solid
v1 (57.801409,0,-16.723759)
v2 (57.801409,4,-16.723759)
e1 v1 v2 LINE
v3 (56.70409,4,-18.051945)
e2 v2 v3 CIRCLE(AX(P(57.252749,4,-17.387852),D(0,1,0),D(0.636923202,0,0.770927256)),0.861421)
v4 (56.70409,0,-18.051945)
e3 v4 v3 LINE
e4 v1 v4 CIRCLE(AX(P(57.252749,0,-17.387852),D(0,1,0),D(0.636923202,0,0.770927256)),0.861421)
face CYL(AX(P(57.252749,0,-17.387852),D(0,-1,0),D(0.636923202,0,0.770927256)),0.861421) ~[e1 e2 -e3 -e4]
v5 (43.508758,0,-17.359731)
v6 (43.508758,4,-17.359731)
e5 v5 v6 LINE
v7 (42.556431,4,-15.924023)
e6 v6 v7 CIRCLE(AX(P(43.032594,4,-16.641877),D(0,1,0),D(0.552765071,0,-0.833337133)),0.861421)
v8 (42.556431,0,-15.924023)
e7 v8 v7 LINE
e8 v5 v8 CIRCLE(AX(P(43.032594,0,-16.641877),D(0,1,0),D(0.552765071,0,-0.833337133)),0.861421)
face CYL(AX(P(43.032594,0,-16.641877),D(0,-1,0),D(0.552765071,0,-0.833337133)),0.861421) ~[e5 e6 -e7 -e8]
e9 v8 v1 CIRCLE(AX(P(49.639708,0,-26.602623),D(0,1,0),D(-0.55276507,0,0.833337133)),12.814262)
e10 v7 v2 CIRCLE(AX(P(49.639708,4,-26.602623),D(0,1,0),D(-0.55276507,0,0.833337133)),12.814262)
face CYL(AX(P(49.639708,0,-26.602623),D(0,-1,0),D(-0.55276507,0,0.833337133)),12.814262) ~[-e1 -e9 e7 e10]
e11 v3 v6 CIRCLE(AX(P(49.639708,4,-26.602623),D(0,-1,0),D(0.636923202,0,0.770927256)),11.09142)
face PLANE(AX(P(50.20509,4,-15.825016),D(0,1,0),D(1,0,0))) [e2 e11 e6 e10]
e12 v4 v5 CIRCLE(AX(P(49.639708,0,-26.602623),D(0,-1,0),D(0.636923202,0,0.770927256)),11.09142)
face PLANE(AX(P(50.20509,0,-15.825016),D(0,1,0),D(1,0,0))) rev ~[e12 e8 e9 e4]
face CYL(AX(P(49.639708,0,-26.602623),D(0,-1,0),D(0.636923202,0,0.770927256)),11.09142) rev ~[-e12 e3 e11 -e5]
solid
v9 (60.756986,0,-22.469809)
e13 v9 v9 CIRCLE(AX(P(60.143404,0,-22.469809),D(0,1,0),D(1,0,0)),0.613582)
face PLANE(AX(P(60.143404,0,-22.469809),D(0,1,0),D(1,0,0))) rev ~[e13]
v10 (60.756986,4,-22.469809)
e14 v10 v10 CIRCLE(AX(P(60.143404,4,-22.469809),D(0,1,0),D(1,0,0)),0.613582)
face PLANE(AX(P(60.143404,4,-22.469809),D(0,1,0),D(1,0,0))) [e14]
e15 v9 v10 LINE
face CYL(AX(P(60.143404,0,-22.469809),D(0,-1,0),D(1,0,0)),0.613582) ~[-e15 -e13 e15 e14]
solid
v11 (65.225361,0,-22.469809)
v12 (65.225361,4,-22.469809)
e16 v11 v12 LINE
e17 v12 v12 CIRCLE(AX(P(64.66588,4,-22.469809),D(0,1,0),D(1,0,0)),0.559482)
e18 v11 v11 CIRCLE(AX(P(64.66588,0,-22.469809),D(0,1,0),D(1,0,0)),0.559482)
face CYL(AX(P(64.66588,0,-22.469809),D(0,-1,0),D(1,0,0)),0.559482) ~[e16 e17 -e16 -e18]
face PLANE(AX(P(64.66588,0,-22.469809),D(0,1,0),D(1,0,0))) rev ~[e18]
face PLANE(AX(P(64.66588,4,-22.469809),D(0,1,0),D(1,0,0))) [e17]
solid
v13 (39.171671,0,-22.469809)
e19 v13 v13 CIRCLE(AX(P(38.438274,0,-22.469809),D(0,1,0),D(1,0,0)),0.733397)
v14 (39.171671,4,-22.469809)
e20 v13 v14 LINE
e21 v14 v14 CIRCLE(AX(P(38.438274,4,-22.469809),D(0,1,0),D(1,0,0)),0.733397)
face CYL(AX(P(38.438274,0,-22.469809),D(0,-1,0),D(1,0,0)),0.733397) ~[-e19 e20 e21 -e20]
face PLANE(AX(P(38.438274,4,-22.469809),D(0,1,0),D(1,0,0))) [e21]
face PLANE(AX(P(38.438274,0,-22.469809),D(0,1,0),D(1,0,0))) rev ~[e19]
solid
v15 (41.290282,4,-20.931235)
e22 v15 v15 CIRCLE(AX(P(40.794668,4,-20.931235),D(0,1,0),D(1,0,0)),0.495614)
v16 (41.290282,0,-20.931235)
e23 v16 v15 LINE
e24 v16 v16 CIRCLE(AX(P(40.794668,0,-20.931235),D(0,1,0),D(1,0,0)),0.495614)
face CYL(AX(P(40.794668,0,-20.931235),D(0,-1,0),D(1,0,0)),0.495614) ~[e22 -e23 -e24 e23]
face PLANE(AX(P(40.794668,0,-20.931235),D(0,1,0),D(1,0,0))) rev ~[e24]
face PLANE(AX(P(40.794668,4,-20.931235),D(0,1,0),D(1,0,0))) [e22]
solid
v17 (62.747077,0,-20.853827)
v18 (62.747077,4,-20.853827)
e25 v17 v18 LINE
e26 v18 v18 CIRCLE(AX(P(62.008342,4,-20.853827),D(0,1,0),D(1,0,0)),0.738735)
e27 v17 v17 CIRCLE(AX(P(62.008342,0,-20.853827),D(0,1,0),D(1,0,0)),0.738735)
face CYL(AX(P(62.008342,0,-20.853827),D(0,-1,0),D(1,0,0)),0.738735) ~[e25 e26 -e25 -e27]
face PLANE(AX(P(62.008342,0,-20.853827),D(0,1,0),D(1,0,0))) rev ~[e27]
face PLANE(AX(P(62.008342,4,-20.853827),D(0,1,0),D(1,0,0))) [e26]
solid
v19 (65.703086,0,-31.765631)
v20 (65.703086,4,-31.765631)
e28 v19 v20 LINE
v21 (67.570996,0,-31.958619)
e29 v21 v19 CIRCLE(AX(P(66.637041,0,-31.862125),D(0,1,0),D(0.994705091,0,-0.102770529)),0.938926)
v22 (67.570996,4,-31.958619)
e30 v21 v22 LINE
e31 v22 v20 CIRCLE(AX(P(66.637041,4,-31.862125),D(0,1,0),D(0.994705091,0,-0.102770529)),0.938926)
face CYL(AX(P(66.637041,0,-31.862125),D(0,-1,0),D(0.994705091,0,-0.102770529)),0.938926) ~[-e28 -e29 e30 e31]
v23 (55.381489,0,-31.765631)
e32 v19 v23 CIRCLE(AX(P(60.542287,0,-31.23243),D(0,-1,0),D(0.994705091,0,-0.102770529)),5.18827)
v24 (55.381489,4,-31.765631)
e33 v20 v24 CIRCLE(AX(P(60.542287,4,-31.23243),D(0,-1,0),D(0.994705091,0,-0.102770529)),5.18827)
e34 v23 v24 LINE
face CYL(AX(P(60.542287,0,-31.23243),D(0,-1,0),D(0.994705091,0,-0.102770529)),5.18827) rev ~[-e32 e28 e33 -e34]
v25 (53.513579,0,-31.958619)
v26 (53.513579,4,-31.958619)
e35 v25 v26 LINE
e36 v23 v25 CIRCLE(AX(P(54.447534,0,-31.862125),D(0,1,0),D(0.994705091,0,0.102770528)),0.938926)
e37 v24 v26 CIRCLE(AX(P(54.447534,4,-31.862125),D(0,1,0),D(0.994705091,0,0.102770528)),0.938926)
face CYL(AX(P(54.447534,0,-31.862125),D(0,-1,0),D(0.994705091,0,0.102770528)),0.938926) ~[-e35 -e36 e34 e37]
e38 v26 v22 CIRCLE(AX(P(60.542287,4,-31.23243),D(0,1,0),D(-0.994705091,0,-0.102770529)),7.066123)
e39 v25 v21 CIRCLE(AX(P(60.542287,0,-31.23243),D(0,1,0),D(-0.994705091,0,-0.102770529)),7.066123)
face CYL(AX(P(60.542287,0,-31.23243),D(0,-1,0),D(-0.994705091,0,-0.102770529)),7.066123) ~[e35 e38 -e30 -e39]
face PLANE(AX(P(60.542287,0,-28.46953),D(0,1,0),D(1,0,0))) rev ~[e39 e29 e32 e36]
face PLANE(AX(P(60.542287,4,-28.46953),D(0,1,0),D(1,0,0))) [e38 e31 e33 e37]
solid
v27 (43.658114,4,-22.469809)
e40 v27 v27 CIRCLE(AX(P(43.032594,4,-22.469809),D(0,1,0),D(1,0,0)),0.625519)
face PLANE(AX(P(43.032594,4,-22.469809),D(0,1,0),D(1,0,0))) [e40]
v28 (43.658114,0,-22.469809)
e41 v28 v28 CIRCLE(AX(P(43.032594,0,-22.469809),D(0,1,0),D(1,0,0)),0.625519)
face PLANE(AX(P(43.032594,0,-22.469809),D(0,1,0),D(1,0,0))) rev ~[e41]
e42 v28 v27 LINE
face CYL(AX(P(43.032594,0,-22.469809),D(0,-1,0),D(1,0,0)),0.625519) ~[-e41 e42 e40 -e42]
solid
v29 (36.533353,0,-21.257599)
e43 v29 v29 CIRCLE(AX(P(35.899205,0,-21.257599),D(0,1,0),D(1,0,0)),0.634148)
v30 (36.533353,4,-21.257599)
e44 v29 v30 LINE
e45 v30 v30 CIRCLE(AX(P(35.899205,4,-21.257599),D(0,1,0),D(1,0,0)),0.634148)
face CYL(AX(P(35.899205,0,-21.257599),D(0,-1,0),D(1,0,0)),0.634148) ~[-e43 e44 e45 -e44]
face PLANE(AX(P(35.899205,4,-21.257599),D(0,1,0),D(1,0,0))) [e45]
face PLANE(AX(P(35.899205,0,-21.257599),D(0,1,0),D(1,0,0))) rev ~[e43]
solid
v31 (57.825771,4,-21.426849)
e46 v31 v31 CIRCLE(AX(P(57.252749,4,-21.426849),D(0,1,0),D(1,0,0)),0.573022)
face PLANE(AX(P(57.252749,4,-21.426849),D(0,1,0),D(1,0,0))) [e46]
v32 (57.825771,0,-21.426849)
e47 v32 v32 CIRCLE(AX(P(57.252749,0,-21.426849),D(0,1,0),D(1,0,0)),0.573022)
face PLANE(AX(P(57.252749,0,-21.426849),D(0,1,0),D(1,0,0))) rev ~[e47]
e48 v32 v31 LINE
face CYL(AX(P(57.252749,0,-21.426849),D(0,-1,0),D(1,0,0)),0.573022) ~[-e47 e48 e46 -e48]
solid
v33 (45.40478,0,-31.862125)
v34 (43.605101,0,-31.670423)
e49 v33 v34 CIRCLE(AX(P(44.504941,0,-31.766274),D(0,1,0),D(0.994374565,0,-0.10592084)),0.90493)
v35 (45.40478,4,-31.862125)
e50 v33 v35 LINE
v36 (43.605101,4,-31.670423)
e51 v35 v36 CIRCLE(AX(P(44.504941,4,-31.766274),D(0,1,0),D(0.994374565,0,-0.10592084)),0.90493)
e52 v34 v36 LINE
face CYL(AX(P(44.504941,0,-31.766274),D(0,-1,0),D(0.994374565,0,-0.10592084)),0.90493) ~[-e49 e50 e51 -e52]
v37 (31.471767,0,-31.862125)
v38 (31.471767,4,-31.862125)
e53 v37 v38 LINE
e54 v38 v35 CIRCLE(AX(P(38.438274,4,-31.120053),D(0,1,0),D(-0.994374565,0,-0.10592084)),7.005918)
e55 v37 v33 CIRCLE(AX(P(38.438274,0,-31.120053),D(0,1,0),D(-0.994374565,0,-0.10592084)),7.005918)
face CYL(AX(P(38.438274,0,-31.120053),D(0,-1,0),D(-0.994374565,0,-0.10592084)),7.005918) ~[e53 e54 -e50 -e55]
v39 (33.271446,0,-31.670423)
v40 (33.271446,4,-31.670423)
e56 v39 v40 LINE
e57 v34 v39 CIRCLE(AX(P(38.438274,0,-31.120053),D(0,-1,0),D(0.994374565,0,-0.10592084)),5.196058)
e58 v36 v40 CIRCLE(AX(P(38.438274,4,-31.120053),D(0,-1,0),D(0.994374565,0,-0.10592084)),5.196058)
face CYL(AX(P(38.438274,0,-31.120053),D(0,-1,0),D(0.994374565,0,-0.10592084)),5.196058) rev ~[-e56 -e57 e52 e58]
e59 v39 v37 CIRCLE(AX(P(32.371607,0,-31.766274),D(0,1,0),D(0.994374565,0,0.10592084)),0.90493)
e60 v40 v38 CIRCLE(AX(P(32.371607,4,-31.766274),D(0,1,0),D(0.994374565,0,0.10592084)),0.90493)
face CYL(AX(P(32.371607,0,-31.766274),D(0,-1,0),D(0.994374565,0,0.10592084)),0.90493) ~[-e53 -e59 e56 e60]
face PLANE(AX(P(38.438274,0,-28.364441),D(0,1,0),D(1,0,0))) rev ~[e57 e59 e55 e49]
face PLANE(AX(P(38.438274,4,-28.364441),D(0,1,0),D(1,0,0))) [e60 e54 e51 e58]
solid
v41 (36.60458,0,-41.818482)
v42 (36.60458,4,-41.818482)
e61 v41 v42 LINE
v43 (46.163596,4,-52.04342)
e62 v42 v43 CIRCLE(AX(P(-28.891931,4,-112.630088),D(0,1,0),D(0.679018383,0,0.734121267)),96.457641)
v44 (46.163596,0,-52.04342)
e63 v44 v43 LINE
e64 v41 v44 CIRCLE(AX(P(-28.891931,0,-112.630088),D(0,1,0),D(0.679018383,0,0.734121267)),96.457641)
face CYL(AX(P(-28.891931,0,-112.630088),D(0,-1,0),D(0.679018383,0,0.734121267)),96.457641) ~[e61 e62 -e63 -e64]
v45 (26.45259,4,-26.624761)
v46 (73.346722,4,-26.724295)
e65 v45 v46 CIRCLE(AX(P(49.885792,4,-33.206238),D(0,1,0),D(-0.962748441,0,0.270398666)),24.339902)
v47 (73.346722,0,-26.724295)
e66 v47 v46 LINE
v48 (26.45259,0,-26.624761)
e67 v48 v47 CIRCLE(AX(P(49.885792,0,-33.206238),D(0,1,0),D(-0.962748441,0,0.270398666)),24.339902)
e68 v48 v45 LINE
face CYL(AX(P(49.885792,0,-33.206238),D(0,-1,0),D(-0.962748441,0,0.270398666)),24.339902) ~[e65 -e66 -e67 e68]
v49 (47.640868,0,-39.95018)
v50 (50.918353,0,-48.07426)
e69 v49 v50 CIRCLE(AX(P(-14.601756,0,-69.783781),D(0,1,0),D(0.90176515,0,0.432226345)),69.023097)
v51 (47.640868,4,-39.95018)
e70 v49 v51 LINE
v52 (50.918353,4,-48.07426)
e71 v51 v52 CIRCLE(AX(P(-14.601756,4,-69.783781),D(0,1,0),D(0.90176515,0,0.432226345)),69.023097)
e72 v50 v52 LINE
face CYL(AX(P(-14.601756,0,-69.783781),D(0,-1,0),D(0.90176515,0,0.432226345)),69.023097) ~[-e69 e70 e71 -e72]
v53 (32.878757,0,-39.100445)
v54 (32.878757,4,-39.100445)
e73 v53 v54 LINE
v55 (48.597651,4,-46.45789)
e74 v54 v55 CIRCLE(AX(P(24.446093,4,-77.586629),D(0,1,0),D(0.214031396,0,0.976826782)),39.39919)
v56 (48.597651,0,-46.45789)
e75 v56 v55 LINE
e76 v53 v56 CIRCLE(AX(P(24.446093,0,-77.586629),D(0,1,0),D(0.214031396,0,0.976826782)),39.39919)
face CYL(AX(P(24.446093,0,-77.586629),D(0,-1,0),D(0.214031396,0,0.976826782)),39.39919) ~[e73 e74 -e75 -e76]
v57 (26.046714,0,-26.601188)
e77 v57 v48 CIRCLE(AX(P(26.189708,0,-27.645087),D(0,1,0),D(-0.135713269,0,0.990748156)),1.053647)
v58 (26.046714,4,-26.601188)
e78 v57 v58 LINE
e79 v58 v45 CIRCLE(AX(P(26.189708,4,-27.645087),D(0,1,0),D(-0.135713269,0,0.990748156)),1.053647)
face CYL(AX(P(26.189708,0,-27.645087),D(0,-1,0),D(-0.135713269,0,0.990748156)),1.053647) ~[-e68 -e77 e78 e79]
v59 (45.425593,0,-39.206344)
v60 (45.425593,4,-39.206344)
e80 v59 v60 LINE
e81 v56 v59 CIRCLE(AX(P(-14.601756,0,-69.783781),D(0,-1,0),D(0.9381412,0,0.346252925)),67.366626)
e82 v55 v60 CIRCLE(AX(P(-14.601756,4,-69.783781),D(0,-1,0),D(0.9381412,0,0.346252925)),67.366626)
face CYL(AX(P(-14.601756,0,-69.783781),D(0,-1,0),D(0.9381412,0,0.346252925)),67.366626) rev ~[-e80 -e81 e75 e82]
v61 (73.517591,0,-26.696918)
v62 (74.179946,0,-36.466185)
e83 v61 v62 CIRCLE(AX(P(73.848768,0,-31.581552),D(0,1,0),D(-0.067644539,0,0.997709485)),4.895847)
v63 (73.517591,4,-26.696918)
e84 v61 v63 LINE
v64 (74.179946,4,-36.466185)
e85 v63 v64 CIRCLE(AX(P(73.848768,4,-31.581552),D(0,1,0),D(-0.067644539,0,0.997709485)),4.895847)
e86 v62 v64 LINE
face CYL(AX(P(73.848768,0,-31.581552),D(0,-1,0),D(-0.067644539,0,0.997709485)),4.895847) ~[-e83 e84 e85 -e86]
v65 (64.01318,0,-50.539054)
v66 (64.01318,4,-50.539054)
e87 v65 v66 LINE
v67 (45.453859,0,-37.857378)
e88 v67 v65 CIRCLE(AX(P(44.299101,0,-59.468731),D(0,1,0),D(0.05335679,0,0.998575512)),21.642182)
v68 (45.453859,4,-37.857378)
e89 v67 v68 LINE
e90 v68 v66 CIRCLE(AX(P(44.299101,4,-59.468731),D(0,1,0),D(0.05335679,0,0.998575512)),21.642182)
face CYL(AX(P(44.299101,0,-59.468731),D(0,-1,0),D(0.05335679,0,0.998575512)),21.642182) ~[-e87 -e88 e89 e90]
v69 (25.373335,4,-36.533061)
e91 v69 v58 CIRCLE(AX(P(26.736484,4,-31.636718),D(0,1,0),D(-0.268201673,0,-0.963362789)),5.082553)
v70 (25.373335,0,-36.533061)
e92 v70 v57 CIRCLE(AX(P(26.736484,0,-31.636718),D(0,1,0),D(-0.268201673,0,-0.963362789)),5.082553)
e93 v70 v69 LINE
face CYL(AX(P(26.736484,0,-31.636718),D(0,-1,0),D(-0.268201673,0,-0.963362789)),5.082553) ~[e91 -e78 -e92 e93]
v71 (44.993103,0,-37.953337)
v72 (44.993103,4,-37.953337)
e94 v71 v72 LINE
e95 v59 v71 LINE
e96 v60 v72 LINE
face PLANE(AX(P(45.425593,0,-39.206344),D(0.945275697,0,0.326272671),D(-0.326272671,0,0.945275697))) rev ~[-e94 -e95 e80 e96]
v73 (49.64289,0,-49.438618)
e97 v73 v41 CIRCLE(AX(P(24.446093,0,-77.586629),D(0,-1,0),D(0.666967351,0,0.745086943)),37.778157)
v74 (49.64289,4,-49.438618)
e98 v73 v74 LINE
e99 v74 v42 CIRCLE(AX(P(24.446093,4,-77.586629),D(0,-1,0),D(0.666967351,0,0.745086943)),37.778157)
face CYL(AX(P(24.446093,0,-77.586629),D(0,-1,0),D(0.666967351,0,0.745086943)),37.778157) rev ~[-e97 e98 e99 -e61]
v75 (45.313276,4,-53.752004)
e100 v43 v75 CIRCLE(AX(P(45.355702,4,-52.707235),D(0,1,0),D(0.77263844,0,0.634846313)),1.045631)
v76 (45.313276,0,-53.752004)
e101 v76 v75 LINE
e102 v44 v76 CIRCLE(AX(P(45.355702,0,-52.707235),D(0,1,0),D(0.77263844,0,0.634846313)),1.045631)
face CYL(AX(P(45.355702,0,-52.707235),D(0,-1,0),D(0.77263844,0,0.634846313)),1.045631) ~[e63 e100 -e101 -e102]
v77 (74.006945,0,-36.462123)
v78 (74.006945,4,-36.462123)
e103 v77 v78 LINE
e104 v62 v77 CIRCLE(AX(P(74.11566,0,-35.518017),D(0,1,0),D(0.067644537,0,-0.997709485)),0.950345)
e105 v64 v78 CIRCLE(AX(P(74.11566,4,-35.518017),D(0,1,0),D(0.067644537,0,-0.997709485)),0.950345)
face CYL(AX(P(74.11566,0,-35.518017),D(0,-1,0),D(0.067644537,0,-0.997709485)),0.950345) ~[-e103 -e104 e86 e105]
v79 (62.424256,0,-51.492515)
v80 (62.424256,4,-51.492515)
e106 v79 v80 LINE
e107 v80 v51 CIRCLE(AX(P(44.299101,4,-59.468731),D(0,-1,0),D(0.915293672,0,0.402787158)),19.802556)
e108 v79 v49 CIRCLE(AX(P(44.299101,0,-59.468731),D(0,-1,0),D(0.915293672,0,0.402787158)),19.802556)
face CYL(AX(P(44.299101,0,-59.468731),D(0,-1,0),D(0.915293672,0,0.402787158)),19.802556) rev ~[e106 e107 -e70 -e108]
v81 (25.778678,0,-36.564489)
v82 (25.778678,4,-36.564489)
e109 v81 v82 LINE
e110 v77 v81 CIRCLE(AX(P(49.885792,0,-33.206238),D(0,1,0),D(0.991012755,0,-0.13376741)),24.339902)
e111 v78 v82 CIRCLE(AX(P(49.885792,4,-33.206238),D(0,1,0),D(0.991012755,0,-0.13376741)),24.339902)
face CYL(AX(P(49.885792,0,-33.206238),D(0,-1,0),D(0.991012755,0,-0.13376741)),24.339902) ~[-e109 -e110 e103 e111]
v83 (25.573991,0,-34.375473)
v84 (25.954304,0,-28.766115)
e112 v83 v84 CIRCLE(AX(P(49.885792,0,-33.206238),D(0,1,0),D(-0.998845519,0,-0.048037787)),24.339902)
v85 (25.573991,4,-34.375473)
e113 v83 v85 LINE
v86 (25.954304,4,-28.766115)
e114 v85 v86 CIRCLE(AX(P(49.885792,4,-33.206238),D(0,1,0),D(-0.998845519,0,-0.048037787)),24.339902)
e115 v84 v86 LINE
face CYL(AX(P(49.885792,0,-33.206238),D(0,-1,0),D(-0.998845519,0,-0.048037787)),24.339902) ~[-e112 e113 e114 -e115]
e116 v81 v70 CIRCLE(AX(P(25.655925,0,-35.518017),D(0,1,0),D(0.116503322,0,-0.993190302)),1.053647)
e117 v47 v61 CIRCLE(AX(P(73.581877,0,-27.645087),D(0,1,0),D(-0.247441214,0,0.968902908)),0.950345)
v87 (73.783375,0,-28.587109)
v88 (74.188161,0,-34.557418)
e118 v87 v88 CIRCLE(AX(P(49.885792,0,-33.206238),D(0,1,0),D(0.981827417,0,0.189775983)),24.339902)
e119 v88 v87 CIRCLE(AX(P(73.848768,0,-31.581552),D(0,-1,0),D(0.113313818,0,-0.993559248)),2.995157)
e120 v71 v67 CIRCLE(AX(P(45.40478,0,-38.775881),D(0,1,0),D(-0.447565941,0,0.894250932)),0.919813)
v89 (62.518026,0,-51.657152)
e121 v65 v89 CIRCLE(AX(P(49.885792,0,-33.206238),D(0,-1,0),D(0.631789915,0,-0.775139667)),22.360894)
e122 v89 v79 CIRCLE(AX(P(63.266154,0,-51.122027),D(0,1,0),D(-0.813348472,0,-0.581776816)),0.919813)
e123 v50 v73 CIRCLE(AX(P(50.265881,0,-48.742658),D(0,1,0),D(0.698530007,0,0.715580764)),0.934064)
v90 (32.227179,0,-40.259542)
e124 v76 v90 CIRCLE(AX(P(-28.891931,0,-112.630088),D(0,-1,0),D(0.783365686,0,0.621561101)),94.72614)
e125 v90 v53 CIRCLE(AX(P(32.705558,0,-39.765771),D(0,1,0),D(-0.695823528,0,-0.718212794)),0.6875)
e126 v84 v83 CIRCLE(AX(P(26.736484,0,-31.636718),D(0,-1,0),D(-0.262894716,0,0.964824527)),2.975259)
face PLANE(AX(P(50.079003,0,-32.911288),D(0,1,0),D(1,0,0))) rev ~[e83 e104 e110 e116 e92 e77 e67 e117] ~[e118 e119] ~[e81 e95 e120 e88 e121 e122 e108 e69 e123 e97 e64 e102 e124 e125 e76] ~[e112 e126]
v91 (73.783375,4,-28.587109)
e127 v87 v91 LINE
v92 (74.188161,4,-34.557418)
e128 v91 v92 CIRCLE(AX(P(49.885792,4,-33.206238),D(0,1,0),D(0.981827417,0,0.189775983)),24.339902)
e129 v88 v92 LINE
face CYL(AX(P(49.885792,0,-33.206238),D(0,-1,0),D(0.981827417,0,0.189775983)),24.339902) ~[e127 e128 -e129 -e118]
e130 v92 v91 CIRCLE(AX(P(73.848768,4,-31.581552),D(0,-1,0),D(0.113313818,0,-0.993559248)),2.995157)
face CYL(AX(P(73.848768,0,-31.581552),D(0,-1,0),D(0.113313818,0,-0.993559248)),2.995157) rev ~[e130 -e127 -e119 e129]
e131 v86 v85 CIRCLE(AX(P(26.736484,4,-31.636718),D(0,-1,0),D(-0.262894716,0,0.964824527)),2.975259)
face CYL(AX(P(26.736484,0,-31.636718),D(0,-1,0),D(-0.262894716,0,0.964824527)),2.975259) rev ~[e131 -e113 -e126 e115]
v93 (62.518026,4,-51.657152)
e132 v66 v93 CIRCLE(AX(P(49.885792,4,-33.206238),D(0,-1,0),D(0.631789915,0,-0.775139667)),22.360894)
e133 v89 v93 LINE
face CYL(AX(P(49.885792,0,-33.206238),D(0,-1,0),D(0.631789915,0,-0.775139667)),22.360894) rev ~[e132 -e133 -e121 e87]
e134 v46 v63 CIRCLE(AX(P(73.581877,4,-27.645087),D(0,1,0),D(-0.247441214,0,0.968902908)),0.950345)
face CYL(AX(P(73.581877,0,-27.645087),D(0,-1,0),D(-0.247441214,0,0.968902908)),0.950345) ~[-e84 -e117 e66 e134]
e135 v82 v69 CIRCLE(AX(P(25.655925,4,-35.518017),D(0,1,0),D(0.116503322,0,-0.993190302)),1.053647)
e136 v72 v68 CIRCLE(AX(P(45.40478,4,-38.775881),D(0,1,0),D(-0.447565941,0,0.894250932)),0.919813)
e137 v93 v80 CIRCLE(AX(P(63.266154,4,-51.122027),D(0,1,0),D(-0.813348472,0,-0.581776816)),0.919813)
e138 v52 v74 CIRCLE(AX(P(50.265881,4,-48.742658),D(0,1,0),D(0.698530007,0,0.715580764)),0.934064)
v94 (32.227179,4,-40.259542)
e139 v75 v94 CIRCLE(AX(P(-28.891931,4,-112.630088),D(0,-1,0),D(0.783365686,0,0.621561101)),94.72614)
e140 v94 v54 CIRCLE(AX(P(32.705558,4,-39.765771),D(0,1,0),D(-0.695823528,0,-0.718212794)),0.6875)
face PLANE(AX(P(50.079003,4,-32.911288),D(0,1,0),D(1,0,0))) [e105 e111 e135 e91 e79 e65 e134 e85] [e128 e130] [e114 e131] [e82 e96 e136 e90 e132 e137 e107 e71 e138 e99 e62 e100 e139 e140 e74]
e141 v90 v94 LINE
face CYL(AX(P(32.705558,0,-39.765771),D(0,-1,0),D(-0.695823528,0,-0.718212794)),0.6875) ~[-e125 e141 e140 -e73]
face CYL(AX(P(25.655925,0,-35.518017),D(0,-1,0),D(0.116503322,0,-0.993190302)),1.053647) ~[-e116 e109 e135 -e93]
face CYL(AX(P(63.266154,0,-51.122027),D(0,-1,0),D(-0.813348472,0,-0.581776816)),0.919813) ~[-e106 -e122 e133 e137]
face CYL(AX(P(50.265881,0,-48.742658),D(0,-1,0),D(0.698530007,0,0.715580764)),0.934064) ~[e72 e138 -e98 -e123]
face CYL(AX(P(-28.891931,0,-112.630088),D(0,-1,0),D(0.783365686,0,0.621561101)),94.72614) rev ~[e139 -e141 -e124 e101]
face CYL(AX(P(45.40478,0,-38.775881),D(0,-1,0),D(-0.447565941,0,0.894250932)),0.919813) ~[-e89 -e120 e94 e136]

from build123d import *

# Parameters (mm, degrees)
SALIENTE_EXTRUIR1_DEPTH    = 4
SALIENTE_EXTRUIR1_2_DEPTH  = 4
SALIENTE_EXTRUIR1_3_DEPTH  = 4
CROQUIS1_R                 = 0.634147611
SALIENTE_EXTRUIR1_4_DEPTH  = 4
CROQUIS1_R_2               = 0.733396993
SALIENTE_EXTRUIR1_5_DEPTH  = 4
CROQUIS1_R_3               = 0.495614174
SALIENTE_EXTRUIR1_6_DEPTH  = 4
CROQUIS1_R_4               = 0.62551935
SALIENTE_EXTRUIR1_7_DEPTH  = 4
CROQUIS1_R_5               = 0.573021967
SALIENTE_EXTRUIR1_8_DEPTH  = 4
CROQUIS1_R_6               = 0.613581805
SALIENTE_EXTRUIR1_9_DEPTH  = 4
CROQUIS1_R_7               = 0.738734644
SALIENTE_EXTRUIR1_10_DEPTH = 4
CROQUIS1_R_8               = 0.559481515
SALIENTE_EXTRUIR1_11_DEPTH = 4
SALIENTE_EXTRUIR1_12_DEPTH = 4


with BuildPart() as part:
    # Croquis1 → Saliente-Extruir1 (new body)
    with BuildSketch(Plane(origin=(0, 0, 0), x_dir=(1, 0, 0), z_dir=(0, 1, 0))):
        with BuildLine():
            ThreePointArc((74.1799457, 36.466185156), (74.093352849, 36.468100095), (74.006945291, 36.462123248))
            ThreePointArc((74.006945291, 36.462123248), (49.937454193, 57.546084492), (25.778677934, 36.564488912))
            ThreePointArc((25.778677934, 36.564488912), (25.574476045, 36.568511171), (25.373334573, 36.533061235))
            ThreePointArc((25.373334573, 36.533061235), (21.665572097, 31.292911344), (26.04671396, 26.601187839))
            ThreePointArc((26.04671396, 26.601187839), (26.250799676, 26.59321224), (26.452589876, 26.624760696))
            ThreePointArc((26.452589876, 26.624760696), (49.937454193, 8.86639079), (73.346722109, 26.724294626))
            ThreePointArc((73.346722109, 26.724294626), (73.431532152, 26.706709253), (73.517591019, 26.696918434))
            ThreePointArc((73.517591019, 26.696918434), (78.733401721, 31.250374455), (74.1799457, 36.466185156))
        make_face()
        with BuildLine():
            ThreePointArc((25.95430405, 28.766115478), (23.768039797, 31.435458309), (25.573990554, 34.375472662))
            ThreePointArc((25.573990554, 34.375472662), (25.601641514, 31.559776204), (25.95430405, 28.766115478))
        make_face(mode=Mode.SUBTRACT)
        with BuildLine():
            ThreePointArc((74.18816102, 34.557417605), (76.83706478, 31.378945788), (73.783375068, 28.587108873))
            ThreePointArc((73.783375068, 28.587108873), (74.169943046, 31.559776204), (74.18816102, 34.557417605))
        make_face(mode=Mode.SUBTRACT)
        with BuildLine():
            ThreePointArc((48.597651163, 46.457889546), (47.118213116, 42.785490463), (45.425593016, 39.206344036))
            Line((45.425593016, 39.206344036), (44.993103459, 37.95333726))
            ThreePointArc((44.993103459, 37.95333726), (45.217239696, 37.87538969), (45.453858509, 37.857378194))
            ThreePointArc((45.453858509, 37.857378194), (56.509068448, 41.599742996), (64.013179702, 50.539053674))
            ThreePointArc((64.013179702, 50.539053674), (36.494307306, 15.298761068), (62.518026203, 51.657152337))
            ThreePointArc((62.518026203, 51.657152337), (62.466890552, 51.577254722), (62.42425572, 51.492515388))
            ThreePointArc((62.42425572, 51.492515388), (56.485714844, 43.860153446), (47.640867648, 39.950179711))
            ThreePointArc((47.640867648, 39.950179711), (49.408626903, 43.96017081), (50.918352783, 48.074259915))
            ThreePointArc((50.918352783, 48.074259915), (50.948218866, 49.380538478), (49.642890368, 49.43861756))
            ThreePointArc((49.642890368, 49.43861756), (43.508384082, 44.970402926), (36.604580424, 41.818482171))
            ThreePointArc((36.604580424, 41.818482171), (41.569805001, 46.757329696), (46.163596362, 52.043420018))
            ThreePointArc((46.163596362, 52.043420018), (46.291811269, 53.173113113), (45.313276313, 53.7520042))
            ThreePointArc((45.313276313, 53.7520042), (39.105711287, 46.680393607), (32.227179127, 40.259542009))
            ThreePointArc((32.227179127, 40.259542009), (32.106258057, 39.428878951), (32.878756679, 39.10044494))
            ThreePointArc((32.878756679, 39.10044494), (41.148364583, 41.902874928), (48.597651163, 46.457889546))
        make_face(mode=Mode.SUBTRACT)
    extrude(amount=SALIENTE_EXTRUIR1_DEPTH)


with BuildPart() as body_2:
    # Croquis1 → Saliente-Extruir1 2 (new body)
    with BuildSketch(Plane(origin=(0, 0, 0), x_dir=(1, 0, 0), z_dir=(0, 1, 0))):
        with BuildLine():
            ThreePointArc((33.271446194, 31.670423286), (32.467457599, 32.666113812), (31.471767073, 31.862125217))
            ThreePointArc((31.471767073, 31.862125217), (38.438273667, 24.114134575), (45.404780261, 31.862125217))
            ThreePointArc((45.404780261, 31.862125217), (44.409089735, 32.666113812), (43.60510114, 31.670423286))
            ThreePointArc((43.60510114, 31.670423286), (38.438273667, 25.923994948), (33.271446194, 31.670423286))
        make_face()
    extrude(amount=SALIENTE_EXTRUIR1_2_DEPTH)


with BuildPart() as body_3:
    # Croquis1 → Saliente-Extruir1 3 (new body)
    with BuildSketch(Plane(origin=(0, 0, 0), x_dir=(1, 0, 0), z_dir=(0, 1, 0))):
        with BuildLine():
            ThreePointArc((55.381488681, 31.765631263), (54.544027848, 32.796080004), (53.513579106, 31.958619171))
            ThreePointArc((53.513579106, 31.958619171), (60.542287348, 24.166307285), (67.570995591, 31.958619171))
            ThreePointArc((67.570995591, 31.958619171), (66.540546849, 32.796080004), (65.703086016, 31.765631263))
            ThreePointArc((65.703086016, 31.765631263), (60.542287348, 26.044159919), (55.381488681, 31.765631263))
        make_face()
    extrude(amount=SALIENTE_EXTRUIR1_3_DEPTH)


with BuildPart() as body_4:
    # Croquis1 → Saliente-Extruir1 4 (new body)
    with BuildSketch(Plane(origin=(0, 0, 0), x_dir=(1, 0, 0), z_dir=(0, 1, 0))):
        with Locations((35.899204995, 21.257599233)):
            Circle(CROQUIS1_R)
    extrude(amount=SALIENTE_EXTRUIR1_4_DEPTH)


with BuildPart() as body_5:
    # Croquis1 → Saliente-Extruir1 5 (new body)
    with BuildSketch(Plane(origin=(0, 0, 0), x_dir=(1, 0, 0), z_dir=(0, 1, 0))):
        with Locations((38.438273667, 22.469809183)):
            Circle(CROQUIS1_R_2)
    extrude(amount=SALIENTE_EXTRUIR1_5_DEPTH)


with BuildPart() as body_6:
    # Croquis1 → Saliente-Extruir1 6 (new body)
    with BuildSketch(Plane(origin=(0, 0, 0), x_dir=(1, 0, 0), z_dir=(0, 1, 0))):
        with Locations((40.794668254, 20.931235016)):
            Circle(CROQUIS1_R_3)
    extrude(amount=SALIENTE_EXTRUIR1_6_DEPTH)


with BuildPart() as body_7:
    # Croquis1 → Saliente-Extruir1 7 (new body)
    with BuildSketch(Plane(origin=(0, 0, 0), x_dir=(1, 0, 0), z_dir=(0, 1, 0))):
        with Locations((43.032594315, 22.469809183)):
            Circle(CROQUIS1_R_4)
    extrude(amount=SALIENTE_EXTRUIR1_7_DEPTH)


with BuildPart() as body_8:
    # Croquis1 → Saliente-Extruir1 8 (new body)
    with BuildSketch(Plane(origin=(0, 0, 0), x_dir=(1, 0, 0), z_dir=(0, 1, 0))):
        with Locations((57.252749495, 21.42684919)):
            Circle(CROQUIS1_R_5)
    extrude(amount=SALIENTE_EXTRUIR1_8_DEPTH)


with BuildPart() as body_9:
    # Croquis1 → Saliente-Extruir1 9 (new body)
    with BuildSketch(Plane(origin=(0, 0, 0), x_dir=(1, 0, 0), z_dir=(0, 1, 0))):
        with Locations((60.143403991, 22.469809183)):
            Circle(CROQUIS1_R_6)
    extrude(amount=SALIENTE_EXTRUIR1_9_DEPTH)


with BuildPart() as body_10:
    # Croquis1 → Saliente-Extruir1 10 (new body)
    with BuildSketch(Plane(origin=(0, 0, 0), x_dir=(1, 0, 0), z_dir=(0, 1, 0))):
        with Locations((62.008342375, 20.853827223)):
            Circle(CROQUIS1_R_7)
    extrude(amount=SALIENTE_EXTRUIR1_10_DEPTH)


with BuildPart() as body_11:
    # Croquis1 → Saliente-Extruir1 11 (new body)
    with BuildSketch(Plane(origin=(0, 0, 0), x_dir=(1, 0, 0), z_dir=(0, 1, 0))):
        with Locations((64.665879573, 22.469809183)):
            Circle(CROQUIS1_R_8)
    extrude(amount=SALIENTE_EXTRUIR1_11_DEPTH)


with BuildPart() as body_12:
    # Croquis1 → Saliente-Extruir1 12 (new body)
    with BuildSketch(Plane(origin=(0, 0, 0), x_dir=(1, 0, 0), z_dir=(0, 1, 0))):
        with BuildLine():
            ThreePointArc((43.508757823, 17.359730941), (42.314740106, 17.11804024), (42.556430807, 15.924022523))
            ThreePointArc((42.556430807, 15.924022523), (50.311008053, 13.805956585), (57.801408595, 16.723759063))
            ThreePointArc((57.801408595, 16.723759063), (57.916842518, 17.936511186), (56.704090395, 18.051945109))
            ThreePointArc((56.704090395, 18.051945109), (50.220753546, 15.526433126), (43.508757823, 17.359730941))
        make_face()
    extrude(amount=SALIENTE_EXTRUIR1_12_DEPTH)


solid = Compound([part.part, body_2.part, body_3.part, body_4.part, body_5.part, body_6.part, body_7.part, body_8.part, body_9.part, body_10.part, body_11.part, body_12.part])
